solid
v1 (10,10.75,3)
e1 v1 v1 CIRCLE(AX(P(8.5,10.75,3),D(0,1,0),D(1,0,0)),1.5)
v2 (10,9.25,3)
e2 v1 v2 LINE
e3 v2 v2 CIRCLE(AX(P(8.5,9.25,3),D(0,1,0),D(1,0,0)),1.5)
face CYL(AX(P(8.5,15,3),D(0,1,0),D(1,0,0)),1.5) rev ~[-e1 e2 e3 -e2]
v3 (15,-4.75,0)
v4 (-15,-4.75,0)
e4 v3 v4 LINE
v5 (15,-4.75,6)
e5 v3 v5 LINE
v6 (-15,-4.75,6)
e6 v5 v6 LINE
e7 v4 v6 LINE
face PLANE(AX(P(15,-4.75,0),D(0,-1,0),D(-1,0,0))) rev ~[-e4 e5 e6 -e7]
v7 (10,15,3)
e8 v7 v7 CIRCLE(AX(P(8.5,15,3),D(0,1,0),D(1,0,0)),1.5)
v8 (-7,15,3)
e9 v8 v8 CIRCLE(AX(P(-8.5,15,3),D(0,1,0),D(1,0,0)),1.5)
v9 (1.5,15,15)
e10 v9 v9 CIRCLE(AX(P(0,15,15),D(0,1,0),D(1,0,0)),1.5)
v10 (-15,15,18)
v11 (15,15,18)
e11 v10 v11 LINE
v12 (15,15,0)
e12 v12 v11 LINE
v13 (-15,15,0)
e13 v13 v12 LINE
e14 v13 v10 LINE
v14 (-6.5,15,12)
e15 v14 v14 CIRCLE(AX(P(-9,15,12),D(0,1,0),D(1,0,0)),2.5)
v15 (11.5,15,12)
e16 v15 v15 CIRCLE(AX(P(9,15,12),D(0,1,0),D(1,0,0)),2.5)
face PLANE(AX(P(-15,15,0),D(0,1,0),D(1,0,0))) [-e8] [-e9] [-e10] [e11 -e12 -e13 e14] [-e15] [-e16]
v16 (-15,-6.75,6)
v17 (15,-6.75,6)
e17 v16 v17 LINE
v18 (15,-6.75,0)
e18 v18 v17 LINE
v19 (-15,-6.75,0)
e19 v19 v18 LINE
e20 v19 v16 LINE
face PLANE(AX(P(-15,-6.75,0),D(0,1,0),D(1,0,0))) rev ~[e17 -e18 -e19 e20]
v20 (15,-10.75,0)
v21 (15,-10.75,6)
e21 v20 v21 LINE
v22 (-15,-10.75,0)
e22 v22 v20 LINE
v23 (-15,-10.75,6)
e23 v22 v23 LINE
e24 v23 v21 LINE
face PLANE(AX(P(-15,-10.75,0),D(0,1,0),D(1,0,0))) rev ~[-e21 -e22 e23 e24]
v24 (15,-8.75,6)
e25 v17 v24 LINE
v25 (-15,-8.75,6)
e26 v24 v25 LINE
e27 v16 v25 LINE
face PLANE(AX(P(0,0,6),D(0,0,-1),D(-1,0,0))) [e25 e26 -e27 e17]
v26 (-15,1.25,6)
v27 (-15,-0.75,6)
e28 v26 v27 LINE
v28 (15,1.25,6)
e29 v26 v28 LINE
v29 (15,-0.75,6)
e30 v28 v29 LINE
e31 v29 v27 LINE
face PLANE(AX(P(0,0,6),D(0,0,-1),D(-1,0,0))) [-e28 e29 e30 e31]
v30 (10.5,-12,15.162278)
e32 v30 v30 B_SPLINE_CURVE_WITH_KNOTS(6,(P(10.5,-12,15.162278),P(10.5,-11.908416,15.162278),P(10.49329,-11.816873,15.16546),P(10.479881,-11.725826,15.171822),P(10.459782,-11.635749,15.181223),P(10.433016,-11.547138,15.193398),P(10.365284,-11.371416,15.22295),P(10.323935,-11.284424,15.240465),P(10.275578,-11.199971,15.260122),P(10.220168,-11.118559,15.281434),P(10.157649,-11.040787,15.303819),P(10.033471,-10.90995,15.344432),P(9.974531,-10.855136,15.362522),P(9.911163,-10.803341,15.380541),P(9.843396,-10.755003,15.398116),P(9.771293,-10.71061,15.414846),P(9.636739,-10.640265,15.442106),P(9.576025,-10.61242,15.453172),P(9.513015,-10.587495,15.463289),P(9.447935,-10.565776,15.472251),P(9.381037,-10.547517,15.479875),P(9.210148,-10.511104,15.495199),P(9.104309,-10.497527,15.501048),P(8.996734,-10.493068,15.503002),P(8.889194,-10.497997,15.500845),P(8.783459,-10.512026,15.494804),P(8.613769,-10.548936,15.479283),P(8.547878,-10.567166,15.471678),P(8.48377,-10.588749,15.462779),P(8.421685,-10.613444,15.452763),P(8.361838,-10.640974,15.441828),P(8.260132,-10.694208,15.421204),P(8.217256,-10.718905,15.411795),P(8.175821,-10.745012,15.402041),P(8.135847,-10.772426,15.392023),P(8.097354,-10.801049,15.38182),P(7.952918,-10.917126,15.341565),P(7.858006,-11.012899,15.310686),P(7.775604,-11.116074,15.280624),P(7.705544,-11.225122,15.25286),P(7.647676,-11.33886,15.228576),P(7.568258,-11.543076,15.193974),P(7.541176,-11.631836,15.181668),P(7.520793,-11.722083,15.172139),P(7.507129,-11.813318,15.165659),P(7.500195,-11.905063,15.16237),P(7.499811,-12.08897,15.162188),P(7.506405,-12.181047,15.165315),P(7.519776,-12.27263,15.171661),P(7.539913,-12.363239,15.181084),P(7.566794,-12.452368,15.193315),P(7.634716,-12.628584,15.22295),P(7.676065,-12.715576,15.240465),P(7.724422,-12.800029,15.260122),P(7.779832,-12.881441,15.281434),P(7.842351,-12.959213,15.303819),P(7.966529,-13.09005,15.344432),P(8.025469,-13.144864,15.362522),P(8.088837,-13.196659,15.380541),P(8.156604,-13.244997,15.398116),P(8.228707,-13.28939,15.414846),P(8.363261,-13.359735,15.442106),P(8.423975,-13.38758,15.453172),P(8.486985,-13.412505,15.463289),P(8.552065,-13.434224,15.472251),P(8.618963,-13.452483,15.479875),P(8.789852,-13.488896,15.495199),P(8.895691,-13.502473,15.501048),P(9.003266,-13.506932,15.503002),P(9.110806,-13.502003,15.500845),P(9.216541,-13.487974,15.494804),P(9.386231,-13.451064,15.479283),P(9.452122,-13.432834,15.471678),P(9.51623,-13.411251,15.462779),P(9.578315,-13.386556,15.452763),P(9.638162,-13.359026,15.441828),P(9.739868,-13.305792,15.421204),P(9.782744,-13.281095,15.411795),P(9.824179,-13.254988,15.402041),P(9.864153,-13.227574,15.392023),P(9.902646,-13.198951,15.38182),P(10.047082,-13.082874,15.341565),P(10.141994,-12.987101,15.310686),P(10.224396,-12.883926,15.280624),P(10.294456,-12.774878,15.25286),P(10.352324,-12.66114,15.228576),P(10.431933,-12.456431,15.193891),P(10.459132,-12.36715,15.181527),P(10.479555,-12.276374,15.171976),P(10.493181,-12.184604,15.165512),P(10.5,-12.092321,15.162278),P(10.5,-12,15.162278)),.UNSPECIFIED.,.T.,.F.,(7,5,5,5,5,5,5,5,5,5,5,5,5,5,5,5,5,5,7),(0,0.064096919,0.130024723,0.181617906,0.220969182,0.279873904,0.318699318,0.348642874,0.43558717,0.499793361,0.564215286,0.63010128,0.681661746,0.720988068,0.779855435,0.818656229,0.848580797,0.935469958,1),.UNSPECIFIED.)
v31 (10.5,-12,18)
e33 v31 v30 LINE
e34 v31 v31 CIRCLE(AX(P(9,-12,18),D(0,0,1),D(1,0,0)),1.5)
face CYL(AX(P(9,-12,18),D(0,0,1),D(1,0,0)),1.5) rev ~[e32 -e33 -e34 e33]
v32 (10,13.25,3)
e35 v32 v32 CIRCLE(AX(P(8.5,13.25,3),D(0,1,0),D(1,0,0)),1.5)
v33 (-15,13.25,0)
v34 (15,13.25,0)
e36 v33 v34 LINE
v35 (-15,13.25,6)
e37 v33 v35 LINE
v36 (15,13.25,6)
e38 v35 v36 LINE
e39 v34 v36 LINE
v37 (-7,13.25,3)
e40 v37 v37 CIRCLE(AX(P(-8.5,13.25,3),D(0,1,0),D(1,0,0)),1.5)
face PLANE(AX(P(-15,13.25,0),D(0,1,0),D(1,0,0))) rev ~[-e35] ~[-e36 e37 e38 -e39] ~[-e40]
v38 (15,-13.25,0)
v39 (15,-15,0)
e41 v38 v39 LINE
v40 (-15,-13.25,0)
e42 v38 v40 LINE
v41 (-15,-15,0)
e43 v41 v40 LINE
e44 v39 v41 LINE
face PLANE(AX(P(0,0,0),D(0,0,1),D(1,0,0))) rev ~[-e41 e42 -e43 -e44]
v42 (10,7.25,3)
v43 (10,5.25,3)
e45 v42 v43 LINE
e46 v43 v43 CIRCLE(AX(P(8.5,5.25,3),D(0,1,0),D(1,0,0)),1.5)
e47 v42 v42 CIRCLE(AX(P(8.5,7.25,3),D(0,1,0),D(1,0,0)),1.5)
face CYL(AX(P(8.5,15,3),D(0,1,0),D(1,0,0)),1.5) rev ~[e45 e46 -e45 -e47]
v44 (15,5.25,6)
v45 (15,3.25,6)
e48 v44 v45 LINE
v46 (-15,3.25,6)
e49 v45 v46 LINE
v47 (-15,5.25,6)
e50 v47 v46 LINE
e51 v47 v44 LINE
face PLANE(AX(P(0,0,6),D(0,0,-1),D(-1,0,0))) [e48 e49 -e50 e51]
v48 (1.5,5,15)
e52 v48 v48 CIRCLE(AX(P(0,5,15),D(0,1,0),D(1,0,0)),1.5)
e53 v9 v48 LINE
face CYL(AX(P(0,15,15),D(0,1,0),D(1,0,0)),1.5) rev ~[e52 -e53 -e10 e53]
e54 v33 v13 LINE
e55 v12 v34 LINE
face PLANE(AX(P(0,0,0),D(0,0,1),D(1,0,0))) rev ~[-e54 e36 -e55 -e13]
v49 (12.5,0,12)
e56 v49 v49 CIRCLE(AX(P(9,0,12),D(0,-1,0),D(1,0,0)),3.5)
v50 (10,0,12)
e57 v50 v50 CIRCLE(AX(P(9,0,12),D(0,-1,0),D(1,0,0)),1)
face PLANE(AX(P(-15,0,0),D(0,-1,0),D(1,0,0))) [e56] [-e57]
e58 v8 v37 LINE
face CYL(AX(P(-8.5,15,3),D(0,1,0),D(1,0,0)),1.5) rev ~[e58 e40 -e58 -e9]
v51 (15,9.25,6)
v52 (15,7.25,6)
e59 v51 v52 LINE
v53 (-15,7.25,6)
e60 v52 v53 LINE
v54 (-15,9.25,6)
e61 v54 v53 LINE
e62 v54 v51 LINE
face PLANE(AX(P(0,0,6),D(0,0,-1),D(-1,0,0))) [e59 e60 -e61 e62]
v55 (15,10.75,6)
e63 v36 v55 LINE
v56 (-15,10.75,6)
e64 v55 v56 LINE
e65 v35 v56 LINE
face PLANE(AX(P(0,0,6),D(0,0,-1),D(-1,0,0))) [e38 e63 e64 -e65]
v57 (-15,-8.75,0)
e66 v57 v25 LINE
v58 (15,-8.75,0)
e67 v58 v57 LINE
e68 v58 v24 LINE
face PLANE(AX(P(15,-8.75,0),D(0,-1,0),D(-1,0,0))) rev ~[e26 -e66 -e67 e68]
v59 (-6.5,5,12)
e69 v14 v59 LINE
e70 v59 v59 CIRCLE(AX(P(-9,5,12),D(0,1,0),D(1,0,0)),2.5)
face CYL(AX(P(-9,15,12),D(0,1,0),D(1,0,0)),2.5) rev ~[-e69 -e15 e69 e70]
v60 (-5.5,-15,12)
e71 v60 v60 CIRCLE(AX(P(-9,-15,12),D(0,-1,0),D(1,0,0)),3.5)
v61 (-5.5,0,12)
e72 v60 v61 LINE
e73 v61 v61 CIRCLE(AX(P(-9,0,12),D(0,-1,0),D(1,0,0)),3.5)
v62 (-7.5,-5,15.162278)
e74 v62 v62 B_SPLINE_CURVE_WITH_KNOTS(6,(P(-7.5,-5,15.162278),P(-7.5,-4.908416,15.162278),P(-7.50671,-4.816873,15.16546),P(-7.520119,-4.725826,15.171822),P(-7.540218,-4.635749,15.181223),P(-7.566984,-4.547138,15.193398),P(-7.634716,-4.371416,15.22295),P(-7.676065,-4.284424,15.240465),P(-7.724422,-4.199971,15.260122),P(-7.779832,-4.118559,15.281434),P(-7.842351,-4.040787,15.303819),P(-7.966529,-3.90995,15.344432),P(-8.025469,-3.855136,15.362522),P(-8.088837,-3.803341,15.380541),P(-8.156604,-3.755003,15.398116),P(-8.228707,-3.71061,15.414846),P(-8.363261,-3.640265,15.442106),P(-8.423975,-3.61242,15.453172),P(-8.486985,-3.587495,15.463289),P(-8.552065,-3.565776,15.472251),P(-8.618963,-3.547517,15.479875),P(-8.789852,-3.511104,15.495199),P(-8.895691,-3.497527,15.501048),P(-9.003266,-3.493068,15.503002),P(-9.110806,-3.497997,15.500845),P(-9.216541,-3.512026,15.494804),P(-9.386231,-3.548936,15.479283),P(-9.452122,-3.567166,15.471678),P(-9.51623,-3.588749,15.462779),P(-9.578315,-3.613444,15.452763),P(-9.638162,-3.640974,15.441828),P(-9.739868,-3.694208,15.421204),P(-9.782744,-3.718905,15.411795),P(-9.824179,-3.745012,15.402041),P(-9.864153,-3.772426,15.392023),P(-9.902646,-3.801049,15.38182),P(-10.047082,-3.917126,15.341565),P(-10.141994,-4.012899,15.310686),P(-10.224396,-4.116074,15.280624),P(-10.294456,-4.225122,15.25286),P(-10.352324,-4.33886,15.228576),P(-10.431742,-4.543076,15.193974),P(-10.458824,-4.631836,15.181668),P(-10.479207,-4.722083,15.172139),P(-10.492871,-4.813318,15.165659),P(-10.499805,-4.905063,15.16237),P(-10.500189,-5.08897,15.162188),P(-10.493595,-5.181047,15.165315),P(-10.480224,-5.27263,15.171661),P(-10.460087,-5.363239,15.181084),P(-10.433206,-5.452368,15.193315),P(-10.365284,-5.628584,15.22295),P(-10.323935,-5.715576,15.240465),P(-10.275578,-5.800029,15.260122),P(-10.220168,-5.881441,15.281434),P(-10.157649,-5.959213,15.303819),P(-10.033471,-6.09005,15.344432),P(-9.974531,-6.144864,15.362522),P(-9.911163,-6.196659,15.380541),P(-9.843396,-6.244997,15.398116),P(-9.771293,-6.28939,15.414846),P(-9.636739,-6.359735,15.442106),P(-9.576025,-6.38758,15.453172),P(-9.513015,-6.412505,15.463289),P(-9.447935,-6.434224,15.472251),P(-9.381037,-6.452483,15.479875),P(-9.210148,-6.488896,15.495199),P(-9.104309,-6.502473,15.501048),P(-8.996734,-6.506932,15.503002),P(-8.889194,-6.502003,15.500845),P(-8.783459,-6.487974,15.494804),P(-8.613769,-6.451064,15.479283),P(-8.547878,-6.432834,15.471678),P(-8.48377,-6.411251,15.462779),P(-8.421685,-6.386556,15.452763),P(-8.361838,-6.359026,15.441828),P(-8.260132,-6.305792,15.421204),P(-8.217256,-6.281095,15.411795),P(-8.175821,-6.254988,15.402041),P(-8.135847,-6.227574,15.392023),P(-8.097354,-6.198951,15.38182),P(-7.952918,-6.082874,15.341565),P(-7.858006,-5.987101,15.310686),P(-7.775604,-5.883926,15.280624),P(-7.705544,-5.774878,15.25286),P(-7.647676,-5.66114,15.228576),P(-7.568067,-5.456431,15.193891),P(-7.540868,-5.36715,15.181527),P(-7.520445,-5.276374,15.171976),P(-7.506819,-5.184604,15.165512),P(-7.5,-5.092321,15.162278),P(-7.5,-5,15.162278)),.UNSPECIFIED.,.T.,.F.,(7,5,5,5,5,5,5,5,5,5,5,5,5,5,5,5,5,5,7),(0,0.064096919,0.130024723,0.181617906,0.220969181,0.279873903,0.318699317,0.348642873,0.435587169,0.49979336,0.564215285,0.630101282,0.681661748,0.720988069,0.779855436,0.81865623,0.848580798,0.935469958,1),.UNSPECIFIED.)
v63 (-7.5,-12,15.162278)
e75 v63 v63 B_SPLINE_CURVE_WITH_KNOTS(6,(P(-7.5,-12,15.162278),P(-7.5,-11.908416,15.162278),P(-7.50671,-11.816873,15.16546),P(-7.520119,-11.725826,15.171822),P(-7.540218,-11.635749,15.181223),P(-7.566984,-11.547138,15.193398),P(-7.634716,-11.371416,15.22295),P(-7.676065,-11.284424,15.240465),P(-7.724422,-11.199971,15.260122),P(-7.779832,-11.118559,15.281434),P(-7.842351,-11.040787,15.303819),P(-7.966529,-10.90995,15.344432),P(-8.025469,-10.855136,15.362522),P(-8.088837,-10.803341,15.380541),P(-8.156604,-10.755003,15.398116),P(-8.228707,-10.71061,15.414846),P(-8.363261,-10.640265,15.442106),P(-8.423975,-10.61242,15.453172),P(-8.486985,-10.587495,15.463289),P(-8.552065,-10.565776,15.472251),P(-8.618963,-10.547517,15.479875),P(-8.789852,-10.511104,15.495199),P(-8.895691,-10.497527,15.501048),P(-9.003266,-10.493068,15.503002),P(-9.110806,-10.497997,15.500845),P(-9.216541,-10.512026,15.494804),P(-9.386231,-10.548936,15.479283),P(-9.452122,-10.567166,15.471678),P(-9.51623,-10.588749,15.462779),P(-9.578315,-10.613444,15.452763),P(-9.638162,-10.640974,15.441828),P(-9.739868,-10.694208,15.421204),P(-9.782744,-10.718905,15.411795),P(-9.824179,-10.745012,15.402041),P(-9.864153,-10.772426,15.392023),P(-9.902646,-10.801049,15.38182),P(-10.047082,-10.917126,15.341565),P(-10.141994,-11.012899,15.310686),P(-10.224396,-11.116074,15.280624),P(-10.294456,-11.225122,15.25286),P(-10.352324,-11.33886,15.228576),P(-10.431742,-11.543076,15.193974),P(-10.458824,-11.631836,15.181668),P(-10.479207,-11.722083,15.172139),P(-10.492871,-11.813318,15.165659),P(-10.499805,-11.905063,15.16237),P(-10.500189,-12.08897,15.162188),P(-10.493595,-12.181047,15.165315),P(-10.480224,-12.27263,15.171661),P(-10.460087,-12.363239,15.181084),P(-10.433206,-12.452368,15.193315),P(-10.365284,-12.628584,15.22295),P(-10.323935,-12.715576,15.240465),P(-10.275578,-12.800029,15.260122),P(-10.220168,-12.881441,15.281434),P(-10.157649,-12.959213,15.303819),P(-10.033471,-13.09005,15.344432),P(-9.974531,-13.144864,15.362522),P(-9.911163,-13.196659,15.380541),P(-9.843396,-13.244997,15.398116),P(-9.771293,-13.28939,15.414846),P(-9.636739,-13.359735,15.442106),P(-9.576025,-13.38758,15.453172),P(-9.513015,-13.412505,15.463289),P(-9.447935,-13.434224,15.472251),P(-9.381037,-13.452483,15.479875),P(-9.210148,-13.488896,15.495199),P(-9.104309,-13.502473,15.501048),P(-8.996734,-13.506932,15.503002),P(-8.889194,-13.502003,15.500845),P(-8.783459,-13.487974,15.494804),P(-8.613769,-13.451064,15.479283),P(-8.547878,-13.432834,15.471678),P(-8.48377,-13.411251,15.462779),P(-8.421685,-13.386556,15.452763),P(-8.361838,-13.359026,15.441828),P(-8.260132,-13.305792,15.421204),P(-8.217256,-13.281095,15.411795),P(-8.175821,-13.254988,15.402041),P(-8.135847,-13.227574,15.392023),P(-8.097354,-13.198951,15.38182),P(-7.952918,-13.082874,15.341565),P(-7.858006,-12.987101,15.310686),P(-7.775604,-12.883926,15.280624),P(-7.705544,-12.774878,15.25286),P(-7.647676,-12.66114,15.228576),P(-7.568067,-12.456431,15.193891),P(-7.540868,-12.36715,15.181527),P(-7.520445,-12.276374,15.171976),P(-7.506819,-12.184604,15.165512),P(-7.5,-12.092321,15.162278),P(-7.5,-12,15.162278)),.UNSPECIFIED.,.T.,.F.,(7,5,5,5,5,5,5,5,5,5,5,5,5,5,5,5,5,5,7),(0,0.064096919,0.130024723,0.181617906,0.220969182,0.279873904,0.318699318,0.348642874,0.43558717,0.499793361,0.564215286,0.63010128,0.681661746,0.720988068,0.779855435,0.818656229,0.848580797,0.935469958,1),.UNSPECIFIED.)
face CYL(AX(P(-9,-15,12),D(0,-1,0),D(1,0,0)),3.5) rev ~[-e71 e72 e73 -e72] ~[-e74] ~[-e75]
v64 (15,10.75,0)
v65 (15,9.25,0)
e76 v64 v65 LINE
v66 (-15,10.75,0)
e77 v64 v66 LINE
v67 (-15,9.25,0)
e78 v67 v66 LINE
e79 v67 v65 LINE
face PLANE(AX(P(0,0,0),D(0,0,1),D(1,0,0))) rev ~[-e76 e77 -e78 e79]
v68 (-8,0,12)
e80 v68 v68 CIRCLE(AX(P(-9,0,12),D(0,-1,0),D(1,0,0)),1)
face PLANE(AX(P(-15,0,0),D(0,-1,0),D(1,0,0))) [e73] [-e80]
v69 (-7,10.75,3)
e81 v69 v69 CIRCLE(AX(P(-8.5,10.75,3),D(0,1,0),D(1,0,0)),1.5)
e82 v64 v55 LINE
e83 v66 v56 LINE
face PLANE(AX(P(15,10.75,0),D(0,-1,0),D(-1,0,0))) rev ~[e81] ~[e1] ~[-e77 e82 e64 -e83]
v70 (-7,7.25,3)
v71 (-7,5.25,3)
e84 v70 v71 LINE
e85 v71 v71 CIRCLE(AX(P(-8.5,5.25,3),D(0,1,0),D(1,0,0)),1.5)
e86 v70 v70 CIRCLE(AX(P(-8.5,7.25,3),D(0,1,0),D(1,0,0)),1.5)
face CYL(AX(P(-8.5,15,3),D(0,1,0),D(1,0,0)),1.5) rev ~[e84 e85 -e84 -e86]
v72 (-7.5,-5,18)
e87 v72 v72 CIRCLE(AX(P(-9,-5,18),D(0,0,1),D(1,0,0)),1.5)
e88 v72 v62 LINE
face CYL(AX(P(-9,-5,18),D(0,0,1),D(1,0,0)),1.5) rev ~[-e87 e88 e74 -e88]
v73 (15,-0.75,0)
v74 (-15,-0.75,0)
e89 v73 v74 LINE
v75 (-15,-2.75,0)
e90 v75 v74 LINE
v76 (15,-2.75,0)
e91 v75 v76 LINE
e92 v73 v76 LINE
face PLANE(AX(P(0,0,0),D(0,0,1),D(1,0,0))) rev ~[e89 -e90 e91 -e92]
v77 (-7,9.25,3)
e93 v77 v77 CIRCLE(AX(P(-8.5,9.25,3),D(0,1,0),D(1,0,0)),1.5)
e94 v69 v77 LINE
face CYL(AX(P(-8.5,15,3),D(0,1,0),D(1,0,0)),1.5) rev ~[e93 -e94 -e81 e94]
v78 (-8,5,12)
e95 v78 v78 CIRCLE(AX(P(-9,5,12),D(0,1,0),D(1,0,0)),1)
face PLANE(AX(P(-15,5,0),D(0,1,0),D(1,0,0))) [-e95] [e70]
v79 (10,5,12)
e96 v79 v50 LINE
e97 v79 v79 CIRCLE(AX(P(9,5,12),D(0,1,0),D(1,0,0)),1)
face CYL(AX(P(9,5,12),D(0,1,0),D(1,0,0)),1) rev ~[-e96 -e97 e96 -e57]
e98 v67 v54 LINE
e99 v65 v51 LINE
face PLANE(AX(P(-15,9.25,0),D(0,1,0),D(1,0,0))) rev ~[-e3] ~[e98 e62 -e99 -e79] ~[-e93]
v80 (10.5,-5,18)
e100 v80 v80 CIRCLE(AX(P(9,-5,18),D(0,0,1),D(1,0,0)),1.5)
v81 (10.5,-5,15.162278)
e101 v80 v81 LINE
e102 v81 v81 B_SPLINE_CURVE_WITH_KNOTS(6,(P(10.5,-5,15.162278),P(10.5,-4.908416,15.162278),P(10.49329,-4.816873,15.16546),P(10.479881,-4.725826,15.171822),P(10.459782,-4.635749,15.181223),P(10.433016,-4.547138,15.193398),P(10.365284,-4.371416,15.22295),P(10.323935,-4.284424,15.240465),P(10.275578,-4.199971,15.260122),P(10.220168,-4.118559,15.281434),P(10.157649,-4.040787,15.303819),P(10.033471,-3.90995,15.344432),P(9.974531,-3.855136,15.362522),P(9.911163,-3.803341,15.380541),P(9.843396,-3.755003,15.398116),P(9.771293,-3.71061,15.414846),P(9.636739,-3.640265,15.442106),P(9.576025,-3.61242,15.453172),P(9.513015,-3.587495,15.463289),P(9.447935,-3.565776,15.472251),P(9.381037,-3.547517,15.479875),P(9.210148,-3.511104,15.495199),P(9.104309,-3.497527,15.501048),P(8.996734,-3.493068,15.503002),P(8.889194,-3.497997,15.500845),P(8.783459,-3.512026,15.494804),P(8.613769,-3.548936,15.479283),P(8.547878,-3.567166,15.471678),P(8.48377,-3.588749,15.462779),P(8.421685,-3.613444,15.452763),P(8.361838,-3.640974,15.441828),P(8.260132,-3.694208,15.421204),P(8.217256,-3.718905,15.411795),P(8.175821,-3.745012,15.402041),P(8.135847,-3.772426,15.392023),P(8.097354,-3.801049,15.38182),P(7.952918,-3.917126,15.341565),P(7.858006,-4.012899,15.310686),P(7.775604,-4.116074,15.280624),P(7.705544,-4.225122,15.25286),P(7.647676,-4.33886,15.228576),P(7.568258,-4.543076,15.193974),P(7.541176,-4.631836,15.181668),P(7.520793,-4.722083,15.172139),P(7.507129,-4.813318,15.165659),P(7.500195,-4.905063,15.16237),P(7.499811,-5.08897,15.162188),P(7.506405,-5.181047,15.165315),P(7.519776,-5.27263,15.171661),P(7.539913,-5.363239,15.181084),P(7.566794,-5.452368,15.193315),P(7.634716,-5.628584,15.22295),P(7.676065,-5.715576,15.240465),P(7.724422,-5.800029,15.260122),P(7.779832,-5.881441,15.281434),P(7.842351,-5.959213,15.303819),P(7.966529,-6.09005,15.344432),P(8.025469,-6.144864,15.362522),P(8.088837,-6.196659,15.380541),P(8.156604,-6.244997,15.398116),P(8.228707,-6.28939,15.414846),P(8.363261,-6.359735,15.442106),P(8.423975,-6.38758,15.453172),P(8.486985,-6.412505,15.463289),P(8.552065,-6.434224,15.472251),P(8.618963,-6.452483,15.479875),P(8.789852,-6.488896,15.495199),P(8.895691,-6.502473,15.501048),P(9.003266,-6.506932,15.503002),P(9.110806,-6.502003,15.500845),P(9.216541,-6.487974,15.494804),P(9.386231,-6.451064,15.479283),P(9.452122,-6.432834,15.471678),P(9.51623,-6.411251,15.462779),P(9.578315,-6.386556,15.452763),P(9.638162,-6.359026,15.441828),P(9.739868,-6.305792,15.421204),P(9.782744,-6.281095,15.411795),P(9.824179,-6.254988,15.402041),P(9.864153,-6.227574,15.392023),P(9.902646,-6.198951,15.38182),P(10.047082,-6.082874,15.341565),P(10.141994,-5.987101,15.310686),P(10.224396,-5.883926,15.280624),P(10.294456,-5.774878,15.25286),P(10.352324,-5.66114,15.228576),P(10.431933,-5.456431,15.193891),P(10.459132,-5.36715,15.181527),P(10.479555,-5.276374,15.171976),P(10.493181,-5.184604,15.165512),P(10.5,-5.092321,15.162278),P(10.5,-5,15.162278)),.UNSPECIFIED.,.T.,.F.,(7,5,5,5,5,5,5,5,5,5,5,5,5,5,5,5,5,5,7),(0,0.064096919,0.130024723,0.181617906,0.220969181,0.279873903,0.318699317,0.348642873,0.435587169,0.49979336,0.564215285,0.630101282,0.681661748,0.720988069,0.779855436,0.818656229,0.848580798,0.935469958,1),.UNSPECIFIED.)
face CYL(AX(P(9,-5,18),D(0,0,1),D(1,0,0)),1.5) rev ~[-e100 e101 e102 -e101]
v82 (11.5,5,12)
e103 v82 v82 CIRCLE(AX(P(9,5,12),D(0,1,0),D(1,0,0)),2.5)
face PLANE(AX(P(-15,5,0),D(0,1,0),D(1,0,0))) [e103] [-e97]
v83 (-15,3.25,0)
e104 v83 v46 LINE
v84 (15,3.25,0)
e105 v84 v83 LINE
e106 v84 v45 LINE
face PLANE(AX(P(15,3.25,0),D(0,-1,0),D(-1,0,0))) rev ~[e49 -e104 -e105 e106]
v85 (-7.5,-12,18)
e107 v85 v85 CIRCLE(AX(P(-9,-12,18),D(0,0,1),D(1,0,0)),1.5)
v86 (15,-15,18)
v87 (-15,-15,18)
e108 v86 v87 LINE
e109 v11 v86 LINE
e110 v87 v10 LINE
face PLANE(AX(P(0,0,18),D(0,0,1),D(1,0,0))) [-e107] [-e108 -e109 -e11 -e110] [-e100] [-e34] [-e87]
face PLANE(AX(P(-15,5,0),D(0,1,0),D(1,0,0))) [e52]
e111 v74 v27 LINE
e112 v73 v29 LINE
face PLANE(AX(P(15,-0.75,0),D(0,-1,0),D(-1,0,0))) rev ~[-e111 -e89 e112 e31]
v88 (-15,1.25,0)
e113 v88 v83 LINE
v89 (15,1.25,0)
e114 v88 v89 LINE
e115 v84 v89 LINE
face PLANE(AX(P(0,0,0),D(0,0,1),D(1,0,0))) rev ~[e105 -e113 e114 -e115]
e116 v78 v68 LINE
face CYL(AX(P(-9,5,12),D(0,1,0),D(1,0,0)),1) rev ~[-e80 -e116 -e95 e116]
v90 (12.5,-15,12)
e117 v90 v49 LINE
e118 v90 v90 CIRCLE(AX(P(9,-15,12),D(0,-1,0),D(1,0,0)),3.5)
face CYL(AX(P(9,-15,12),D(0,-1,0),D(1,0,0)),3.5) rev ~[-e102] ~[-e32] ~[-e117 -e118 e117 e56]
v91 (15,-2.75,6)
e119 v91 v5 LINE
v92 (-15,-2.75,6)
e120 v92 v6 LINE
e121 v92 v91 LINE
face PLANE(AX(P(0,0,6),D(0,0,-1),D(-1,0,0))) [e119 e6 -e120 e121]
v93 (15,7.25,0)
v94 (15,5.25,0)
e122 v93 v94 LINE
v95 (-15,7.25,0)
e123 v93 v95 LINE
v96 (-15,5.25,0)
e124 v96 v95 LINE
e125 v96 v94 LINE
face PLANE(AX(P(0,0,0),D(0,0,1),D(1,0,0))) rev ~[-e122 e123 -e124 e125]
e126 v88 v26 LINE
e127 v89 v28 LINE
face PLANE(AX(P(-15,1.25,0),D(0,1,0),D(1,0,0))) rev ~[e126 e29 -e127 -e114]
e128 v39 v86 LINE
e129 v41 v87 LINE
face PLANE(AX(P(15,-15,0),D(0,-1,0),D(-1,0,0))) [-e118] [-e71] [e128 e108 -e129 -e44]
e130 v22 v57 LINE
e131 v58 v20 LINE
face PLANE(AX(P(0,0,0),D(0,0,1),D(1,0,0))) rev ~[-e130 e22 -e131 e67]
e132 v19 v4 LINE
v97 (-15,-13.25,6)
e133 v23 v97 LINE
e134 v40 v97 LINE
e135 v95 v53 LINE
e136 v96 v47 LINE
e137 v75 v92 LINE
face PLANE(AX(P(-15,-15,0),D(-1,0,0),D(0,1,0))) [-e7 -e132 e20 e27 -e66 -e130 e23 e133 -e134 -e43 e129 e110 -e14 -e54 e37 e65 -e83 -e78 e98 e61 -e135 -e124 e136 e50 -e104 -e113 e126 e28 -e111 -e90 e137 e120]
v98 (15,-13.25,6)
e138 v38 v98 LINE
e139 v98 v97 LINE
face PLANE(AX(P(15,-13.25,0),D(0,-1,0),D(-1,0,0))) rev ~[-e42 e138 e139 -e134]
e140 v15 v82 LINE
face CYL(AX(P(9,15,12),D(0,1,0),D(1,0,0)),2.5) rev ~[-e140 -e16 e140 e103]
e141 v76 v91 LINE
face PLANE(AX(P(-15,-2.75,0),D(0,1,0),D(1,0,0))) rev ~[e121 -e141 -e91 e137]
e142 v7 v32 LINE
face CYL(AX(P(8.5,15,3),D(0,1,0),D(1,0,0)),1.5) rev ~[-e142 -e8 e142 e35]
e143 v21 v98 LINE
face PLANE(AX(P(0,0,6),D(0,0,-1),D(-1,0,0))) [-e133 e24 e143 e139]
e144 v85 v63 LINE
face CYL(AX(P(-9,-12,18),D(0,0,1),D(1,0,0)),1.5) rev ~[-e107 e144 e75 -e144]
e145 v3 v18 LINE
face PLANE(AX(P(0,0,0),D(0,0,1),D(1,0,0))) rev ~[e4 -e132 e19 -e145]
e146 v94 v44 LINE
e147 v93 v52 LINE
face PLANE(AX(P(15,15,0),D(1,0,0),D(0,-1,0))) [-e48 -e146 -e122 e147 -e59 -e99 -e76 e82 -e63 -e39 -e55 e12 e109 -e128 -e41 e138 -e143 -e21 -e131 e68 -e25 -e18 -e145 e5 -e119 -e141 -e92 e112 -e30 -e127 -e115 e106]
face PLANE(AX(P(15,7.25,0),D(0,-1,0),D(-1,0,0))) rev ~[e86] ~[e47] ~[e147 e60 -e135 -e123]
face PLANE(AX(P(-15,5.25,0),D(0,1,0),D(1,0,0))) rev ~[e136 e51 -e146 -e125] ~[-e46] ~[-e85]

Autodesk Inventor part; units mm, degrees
ref_plane "YZ Plane" through (0, 0, 0) normal (1, 0, 0) x (0, 1, 0)
ref_plane "XZ Plane" through (0, 0, 0) normal (0, 1, 0) x (-1, 0, 0)
ref_plane "XY Plane" through (0, 0, 0) normal (0, 0, 1) x (1, 0, 0)
sketch "Sketch1" plane through (0, 0, 0) normal (0, 0, 1) x (1, 0, 0)
  line L0 (-15, 15) -> (15, 15)
  line L1 (15, 15) -> (15, -15)
  line L2 (15, -15) -> (-15, -15)
  line L3 (-15, -15) -> (-15, 15)
  point P0 (0, 0)
  dimension "d0" = 30
  dimension "d1" = 30
  dimension "d2" = 15
  dimension "d3" = 15
extrude "Extrusion1" add sketch "Sketch1" along normal blind 18
sketch "Sketch2" plane through (-15, 15, 0) normal (0, 1, 0) x (1, 0, 0)
  circle A0 centre (6.5, -3) radius 1.5
  circle A1 centre (23.5, -3) radius 1.5
  circle A2 centre (15, -15) radius 1.5
  circle A3 centre (6, -12) radius 2.5
  circle A4 centre (24, -12) radius 2.5
  line L0 (0, 0) -> (30, 0) projected
  line L1 (15, 0) -> (15, -28.1045) construction
  line L2 (30, -18) -> (0, -18) construction
  line L3 (6, -12) -> (24, -12) construction
  dimension "d6" = 3
  dimension "d7" = 3
  dimension "d8" = 3
  dimension "d9" = 5
  dimension "d10" = 5
  dimension "d11" = 17
  dimension "d12" = 3
  dimension "d13" = 3
  dimension "d14" = 8.5
  dimension "d15" = 18
  dimension "d16" = 9
  dimension "d17" = 3
  dimension "d18" = 6
  dimension "d19" = 6
  dimension "d20" = 0
  dimension "d51" = 3
  dimension "d52" = 9
extrude "Extrusion2" cut sketch "Sketch2" against normal blind 10
thread "Thread3" size "M3x0.5" class "6H" standard "ANSI Metric M Profile" full length
thread "Thread4" size "M3x0.5" class "6H" standard "ANSI Metric M Profile" full length
thread "Thread5" size "M3x0.5" class "6H" standard "ANSI Metric M Profile" full length
sketch "Sketch3" plane through (-9, 5, 12) normal (0, 1, 0) x (1, 0, 0)
  circle A0 centre (0, 0) radius 1
  point P0 (9, 12)
  dimension "d23" = 2
extrude "Extrusion3" cut sketch "Sketch3" against normal through all
sketch "Sketch4" plane through (9, 5, 12) normal (0, 1, 0) x (1, 0, 0)
  circle A0 centre (0, 0) radius 1
  point P0 (-9, 12)
  dimension "d26" = 2
extrude "Extrusion4" cut sketch "Sketch4" against normal through all
sketch "Sketch5" plane through (-15, -15, 0) normal (0, -1, 0) x (1, 0, 0)
  circle A0 centre (6, 12) radius 1 projected
  circle A1 centre (6, 12) radius 3.5
  circle A2 centre (24, 12) radius 1 projected
  circle A3 centre (24, 12) radius 3.5
  point P0 (15, 0)
  dimension "d29" = 7
  dimension "d30" = 7
extrude "Extrusion5" cut sketch "Sketch5" against normal blind 15
sketch "Sketch6" plane through (0, 0, 0) normal (0, 0, -1) x (-1, 0, 0)
  line L0 (15, 15) -> (15, -15) projected
  line L1 (-15, -13.25) -> (15, -13.25)
  line L2 (15, -13.25) -> (15, -10.75)
  line L3 (15, -10.75) -> (-15, -10.75)
  line L4 (-15, -10.75) -> (-15, -13.25)
  line L5 (-15, -15) -> (15, -15) projected
  line L6 (-15, 10.75) -> (15, 10.75)
  line L7 (15, 10.75) -> (15, 13.25)
  line L8 (15, 13.25) -> (-15, 13.25)
  line L9 (-15, 13.25) -> (-15, 10.75)
  line L10 (15, 15) -> (-15, 15) projected
  line L11 (-15, -8.75) -> (15, -8.75)
  line L12 (15, -8.75) -> (15, -6.75)
  line L13 (15, -6.75) -> (-15, -6.75)
  line L14 (-15, -6.75) -> (-15, -8.75)
  line L15 (15, -2.75) -> (-15, -2.75)
  line L16 (-15, -2.75) -> (-15, -4.75)
  line L17 (-15, -4.75) -> (15, -4.75)
  line L18 (15, -4.75) -> (15, -2.75)
  line L19 (15, 1.25) -> (-15, 1.25)
  line L20 (-15, 1.25) -> (-15, -0.75)
  line L21 (-15, -0.75) -> (15, -0.75)
  line L22 (15, -0.75) -> (15, 1.25)
  line L23 (15, 5.25) -> (-15, 5.25)
  line L24 (-15, 5.25) -> (-15, 3.25)
  line L25 (-15, 3.25) -> (15, 3.25)
  line L26 (15, 3.25) -> (15, 5.25)
  line L27 (15, 9.25) -> (-15, 9.25)
  line L28 (-15, 9.25) -> (-15, 7.25)
  line L29 (-15, 7.25) -> (15, 7.25)
  line L30 (15, 7.25) -> (15, 9.25)
  point P0 (0, 0)
  dimension "d33" = 30
  dimension "d34" = 30
  dimension "d35" = 2.5
  dimension "d36" = 1.75
  dimension "d37" = 2.5
  dimension "d38" = 30
  dimension "d39" = 1.75
  dimension "d40" = 2
  dimension "d41" = 2
  dimension "d44" = 4
extrude "Extrusion6" cut sketch "Sketch6" against normal blind 6
thread "Thread1" size "M5x0.8" class "6H" standard "ANSI Metric M Profile" full length
thread "Thread2" size "M5x0.8" class "6H" standard "ANSI Metric M Profile" full length
sketch "Sketch7" plane through (0, 0, 18) normal (0, 0, 1) x (1, 0, 0)
  circle A0 centre (-9, -12) radius 1.5
  circle A1 centre (9, -12) radius 1.5
  circle A2 centre (9, -5) radius 1.5
  circle A3 centre (-9, -5) radius 1.5
  line L0 (-5.5, -15) -> (-12.5, -15) projected
  line L1 (-15, -15) -> (15, -15) projected
  point P0 (0, 0)
  dimension "d63" = 3
  dimension "d64" = 3
  dimension "d65" = 3
  dimension "d66" = 3
  dimension "d67" = 18
  dimension "d68" = 18
  dimension "d69" = 9
  dimension "d70" = 9
  dimension "d71" = 3
  dimension "d72" = 3
  dimension "d73" = 7
  dimension "d74" = 7
extrude "Extrusion7" cut sketch "Sketch7" against normal up to next
thread "Thread6" size "M3x0.5" class "6H" standard "ANSI Metric M Profile" full length
thread "Thread7" size "M3x0.5" class "6H" standard "ANSI Metric M Profile" full length
thread "Thread8" size "M3x0.5" class "6H" standard "ANSI Metric M Profile" full length
thread "Thread9" size "M3x0.5" class "6H" standard "ANSI Metric M Profile" full length
equation "\"d2\" = 0.5 * d1"
equation "\"d3\" = 0.5 * d0"
equation "\"d13\" = d12"
equation "\"d14\" = 0.5 * d11"
equation "\"d16\" = 0.5 * d15"
equation "\"d19\" = d18"
equation "\"d34\" = d33"
equation "\"d37\" = d35"
equation "\"d38\" = d33"
equation "\"d39\" = d36"
equation "\"d41\" = d40"
equation "\"d68\" = d67"
equation "\"d69\" = 0.5 * d67"
equation "\"d70\" = d69"
equation "\"d74\" = d73"
properties part number "nozzel heat sink"
